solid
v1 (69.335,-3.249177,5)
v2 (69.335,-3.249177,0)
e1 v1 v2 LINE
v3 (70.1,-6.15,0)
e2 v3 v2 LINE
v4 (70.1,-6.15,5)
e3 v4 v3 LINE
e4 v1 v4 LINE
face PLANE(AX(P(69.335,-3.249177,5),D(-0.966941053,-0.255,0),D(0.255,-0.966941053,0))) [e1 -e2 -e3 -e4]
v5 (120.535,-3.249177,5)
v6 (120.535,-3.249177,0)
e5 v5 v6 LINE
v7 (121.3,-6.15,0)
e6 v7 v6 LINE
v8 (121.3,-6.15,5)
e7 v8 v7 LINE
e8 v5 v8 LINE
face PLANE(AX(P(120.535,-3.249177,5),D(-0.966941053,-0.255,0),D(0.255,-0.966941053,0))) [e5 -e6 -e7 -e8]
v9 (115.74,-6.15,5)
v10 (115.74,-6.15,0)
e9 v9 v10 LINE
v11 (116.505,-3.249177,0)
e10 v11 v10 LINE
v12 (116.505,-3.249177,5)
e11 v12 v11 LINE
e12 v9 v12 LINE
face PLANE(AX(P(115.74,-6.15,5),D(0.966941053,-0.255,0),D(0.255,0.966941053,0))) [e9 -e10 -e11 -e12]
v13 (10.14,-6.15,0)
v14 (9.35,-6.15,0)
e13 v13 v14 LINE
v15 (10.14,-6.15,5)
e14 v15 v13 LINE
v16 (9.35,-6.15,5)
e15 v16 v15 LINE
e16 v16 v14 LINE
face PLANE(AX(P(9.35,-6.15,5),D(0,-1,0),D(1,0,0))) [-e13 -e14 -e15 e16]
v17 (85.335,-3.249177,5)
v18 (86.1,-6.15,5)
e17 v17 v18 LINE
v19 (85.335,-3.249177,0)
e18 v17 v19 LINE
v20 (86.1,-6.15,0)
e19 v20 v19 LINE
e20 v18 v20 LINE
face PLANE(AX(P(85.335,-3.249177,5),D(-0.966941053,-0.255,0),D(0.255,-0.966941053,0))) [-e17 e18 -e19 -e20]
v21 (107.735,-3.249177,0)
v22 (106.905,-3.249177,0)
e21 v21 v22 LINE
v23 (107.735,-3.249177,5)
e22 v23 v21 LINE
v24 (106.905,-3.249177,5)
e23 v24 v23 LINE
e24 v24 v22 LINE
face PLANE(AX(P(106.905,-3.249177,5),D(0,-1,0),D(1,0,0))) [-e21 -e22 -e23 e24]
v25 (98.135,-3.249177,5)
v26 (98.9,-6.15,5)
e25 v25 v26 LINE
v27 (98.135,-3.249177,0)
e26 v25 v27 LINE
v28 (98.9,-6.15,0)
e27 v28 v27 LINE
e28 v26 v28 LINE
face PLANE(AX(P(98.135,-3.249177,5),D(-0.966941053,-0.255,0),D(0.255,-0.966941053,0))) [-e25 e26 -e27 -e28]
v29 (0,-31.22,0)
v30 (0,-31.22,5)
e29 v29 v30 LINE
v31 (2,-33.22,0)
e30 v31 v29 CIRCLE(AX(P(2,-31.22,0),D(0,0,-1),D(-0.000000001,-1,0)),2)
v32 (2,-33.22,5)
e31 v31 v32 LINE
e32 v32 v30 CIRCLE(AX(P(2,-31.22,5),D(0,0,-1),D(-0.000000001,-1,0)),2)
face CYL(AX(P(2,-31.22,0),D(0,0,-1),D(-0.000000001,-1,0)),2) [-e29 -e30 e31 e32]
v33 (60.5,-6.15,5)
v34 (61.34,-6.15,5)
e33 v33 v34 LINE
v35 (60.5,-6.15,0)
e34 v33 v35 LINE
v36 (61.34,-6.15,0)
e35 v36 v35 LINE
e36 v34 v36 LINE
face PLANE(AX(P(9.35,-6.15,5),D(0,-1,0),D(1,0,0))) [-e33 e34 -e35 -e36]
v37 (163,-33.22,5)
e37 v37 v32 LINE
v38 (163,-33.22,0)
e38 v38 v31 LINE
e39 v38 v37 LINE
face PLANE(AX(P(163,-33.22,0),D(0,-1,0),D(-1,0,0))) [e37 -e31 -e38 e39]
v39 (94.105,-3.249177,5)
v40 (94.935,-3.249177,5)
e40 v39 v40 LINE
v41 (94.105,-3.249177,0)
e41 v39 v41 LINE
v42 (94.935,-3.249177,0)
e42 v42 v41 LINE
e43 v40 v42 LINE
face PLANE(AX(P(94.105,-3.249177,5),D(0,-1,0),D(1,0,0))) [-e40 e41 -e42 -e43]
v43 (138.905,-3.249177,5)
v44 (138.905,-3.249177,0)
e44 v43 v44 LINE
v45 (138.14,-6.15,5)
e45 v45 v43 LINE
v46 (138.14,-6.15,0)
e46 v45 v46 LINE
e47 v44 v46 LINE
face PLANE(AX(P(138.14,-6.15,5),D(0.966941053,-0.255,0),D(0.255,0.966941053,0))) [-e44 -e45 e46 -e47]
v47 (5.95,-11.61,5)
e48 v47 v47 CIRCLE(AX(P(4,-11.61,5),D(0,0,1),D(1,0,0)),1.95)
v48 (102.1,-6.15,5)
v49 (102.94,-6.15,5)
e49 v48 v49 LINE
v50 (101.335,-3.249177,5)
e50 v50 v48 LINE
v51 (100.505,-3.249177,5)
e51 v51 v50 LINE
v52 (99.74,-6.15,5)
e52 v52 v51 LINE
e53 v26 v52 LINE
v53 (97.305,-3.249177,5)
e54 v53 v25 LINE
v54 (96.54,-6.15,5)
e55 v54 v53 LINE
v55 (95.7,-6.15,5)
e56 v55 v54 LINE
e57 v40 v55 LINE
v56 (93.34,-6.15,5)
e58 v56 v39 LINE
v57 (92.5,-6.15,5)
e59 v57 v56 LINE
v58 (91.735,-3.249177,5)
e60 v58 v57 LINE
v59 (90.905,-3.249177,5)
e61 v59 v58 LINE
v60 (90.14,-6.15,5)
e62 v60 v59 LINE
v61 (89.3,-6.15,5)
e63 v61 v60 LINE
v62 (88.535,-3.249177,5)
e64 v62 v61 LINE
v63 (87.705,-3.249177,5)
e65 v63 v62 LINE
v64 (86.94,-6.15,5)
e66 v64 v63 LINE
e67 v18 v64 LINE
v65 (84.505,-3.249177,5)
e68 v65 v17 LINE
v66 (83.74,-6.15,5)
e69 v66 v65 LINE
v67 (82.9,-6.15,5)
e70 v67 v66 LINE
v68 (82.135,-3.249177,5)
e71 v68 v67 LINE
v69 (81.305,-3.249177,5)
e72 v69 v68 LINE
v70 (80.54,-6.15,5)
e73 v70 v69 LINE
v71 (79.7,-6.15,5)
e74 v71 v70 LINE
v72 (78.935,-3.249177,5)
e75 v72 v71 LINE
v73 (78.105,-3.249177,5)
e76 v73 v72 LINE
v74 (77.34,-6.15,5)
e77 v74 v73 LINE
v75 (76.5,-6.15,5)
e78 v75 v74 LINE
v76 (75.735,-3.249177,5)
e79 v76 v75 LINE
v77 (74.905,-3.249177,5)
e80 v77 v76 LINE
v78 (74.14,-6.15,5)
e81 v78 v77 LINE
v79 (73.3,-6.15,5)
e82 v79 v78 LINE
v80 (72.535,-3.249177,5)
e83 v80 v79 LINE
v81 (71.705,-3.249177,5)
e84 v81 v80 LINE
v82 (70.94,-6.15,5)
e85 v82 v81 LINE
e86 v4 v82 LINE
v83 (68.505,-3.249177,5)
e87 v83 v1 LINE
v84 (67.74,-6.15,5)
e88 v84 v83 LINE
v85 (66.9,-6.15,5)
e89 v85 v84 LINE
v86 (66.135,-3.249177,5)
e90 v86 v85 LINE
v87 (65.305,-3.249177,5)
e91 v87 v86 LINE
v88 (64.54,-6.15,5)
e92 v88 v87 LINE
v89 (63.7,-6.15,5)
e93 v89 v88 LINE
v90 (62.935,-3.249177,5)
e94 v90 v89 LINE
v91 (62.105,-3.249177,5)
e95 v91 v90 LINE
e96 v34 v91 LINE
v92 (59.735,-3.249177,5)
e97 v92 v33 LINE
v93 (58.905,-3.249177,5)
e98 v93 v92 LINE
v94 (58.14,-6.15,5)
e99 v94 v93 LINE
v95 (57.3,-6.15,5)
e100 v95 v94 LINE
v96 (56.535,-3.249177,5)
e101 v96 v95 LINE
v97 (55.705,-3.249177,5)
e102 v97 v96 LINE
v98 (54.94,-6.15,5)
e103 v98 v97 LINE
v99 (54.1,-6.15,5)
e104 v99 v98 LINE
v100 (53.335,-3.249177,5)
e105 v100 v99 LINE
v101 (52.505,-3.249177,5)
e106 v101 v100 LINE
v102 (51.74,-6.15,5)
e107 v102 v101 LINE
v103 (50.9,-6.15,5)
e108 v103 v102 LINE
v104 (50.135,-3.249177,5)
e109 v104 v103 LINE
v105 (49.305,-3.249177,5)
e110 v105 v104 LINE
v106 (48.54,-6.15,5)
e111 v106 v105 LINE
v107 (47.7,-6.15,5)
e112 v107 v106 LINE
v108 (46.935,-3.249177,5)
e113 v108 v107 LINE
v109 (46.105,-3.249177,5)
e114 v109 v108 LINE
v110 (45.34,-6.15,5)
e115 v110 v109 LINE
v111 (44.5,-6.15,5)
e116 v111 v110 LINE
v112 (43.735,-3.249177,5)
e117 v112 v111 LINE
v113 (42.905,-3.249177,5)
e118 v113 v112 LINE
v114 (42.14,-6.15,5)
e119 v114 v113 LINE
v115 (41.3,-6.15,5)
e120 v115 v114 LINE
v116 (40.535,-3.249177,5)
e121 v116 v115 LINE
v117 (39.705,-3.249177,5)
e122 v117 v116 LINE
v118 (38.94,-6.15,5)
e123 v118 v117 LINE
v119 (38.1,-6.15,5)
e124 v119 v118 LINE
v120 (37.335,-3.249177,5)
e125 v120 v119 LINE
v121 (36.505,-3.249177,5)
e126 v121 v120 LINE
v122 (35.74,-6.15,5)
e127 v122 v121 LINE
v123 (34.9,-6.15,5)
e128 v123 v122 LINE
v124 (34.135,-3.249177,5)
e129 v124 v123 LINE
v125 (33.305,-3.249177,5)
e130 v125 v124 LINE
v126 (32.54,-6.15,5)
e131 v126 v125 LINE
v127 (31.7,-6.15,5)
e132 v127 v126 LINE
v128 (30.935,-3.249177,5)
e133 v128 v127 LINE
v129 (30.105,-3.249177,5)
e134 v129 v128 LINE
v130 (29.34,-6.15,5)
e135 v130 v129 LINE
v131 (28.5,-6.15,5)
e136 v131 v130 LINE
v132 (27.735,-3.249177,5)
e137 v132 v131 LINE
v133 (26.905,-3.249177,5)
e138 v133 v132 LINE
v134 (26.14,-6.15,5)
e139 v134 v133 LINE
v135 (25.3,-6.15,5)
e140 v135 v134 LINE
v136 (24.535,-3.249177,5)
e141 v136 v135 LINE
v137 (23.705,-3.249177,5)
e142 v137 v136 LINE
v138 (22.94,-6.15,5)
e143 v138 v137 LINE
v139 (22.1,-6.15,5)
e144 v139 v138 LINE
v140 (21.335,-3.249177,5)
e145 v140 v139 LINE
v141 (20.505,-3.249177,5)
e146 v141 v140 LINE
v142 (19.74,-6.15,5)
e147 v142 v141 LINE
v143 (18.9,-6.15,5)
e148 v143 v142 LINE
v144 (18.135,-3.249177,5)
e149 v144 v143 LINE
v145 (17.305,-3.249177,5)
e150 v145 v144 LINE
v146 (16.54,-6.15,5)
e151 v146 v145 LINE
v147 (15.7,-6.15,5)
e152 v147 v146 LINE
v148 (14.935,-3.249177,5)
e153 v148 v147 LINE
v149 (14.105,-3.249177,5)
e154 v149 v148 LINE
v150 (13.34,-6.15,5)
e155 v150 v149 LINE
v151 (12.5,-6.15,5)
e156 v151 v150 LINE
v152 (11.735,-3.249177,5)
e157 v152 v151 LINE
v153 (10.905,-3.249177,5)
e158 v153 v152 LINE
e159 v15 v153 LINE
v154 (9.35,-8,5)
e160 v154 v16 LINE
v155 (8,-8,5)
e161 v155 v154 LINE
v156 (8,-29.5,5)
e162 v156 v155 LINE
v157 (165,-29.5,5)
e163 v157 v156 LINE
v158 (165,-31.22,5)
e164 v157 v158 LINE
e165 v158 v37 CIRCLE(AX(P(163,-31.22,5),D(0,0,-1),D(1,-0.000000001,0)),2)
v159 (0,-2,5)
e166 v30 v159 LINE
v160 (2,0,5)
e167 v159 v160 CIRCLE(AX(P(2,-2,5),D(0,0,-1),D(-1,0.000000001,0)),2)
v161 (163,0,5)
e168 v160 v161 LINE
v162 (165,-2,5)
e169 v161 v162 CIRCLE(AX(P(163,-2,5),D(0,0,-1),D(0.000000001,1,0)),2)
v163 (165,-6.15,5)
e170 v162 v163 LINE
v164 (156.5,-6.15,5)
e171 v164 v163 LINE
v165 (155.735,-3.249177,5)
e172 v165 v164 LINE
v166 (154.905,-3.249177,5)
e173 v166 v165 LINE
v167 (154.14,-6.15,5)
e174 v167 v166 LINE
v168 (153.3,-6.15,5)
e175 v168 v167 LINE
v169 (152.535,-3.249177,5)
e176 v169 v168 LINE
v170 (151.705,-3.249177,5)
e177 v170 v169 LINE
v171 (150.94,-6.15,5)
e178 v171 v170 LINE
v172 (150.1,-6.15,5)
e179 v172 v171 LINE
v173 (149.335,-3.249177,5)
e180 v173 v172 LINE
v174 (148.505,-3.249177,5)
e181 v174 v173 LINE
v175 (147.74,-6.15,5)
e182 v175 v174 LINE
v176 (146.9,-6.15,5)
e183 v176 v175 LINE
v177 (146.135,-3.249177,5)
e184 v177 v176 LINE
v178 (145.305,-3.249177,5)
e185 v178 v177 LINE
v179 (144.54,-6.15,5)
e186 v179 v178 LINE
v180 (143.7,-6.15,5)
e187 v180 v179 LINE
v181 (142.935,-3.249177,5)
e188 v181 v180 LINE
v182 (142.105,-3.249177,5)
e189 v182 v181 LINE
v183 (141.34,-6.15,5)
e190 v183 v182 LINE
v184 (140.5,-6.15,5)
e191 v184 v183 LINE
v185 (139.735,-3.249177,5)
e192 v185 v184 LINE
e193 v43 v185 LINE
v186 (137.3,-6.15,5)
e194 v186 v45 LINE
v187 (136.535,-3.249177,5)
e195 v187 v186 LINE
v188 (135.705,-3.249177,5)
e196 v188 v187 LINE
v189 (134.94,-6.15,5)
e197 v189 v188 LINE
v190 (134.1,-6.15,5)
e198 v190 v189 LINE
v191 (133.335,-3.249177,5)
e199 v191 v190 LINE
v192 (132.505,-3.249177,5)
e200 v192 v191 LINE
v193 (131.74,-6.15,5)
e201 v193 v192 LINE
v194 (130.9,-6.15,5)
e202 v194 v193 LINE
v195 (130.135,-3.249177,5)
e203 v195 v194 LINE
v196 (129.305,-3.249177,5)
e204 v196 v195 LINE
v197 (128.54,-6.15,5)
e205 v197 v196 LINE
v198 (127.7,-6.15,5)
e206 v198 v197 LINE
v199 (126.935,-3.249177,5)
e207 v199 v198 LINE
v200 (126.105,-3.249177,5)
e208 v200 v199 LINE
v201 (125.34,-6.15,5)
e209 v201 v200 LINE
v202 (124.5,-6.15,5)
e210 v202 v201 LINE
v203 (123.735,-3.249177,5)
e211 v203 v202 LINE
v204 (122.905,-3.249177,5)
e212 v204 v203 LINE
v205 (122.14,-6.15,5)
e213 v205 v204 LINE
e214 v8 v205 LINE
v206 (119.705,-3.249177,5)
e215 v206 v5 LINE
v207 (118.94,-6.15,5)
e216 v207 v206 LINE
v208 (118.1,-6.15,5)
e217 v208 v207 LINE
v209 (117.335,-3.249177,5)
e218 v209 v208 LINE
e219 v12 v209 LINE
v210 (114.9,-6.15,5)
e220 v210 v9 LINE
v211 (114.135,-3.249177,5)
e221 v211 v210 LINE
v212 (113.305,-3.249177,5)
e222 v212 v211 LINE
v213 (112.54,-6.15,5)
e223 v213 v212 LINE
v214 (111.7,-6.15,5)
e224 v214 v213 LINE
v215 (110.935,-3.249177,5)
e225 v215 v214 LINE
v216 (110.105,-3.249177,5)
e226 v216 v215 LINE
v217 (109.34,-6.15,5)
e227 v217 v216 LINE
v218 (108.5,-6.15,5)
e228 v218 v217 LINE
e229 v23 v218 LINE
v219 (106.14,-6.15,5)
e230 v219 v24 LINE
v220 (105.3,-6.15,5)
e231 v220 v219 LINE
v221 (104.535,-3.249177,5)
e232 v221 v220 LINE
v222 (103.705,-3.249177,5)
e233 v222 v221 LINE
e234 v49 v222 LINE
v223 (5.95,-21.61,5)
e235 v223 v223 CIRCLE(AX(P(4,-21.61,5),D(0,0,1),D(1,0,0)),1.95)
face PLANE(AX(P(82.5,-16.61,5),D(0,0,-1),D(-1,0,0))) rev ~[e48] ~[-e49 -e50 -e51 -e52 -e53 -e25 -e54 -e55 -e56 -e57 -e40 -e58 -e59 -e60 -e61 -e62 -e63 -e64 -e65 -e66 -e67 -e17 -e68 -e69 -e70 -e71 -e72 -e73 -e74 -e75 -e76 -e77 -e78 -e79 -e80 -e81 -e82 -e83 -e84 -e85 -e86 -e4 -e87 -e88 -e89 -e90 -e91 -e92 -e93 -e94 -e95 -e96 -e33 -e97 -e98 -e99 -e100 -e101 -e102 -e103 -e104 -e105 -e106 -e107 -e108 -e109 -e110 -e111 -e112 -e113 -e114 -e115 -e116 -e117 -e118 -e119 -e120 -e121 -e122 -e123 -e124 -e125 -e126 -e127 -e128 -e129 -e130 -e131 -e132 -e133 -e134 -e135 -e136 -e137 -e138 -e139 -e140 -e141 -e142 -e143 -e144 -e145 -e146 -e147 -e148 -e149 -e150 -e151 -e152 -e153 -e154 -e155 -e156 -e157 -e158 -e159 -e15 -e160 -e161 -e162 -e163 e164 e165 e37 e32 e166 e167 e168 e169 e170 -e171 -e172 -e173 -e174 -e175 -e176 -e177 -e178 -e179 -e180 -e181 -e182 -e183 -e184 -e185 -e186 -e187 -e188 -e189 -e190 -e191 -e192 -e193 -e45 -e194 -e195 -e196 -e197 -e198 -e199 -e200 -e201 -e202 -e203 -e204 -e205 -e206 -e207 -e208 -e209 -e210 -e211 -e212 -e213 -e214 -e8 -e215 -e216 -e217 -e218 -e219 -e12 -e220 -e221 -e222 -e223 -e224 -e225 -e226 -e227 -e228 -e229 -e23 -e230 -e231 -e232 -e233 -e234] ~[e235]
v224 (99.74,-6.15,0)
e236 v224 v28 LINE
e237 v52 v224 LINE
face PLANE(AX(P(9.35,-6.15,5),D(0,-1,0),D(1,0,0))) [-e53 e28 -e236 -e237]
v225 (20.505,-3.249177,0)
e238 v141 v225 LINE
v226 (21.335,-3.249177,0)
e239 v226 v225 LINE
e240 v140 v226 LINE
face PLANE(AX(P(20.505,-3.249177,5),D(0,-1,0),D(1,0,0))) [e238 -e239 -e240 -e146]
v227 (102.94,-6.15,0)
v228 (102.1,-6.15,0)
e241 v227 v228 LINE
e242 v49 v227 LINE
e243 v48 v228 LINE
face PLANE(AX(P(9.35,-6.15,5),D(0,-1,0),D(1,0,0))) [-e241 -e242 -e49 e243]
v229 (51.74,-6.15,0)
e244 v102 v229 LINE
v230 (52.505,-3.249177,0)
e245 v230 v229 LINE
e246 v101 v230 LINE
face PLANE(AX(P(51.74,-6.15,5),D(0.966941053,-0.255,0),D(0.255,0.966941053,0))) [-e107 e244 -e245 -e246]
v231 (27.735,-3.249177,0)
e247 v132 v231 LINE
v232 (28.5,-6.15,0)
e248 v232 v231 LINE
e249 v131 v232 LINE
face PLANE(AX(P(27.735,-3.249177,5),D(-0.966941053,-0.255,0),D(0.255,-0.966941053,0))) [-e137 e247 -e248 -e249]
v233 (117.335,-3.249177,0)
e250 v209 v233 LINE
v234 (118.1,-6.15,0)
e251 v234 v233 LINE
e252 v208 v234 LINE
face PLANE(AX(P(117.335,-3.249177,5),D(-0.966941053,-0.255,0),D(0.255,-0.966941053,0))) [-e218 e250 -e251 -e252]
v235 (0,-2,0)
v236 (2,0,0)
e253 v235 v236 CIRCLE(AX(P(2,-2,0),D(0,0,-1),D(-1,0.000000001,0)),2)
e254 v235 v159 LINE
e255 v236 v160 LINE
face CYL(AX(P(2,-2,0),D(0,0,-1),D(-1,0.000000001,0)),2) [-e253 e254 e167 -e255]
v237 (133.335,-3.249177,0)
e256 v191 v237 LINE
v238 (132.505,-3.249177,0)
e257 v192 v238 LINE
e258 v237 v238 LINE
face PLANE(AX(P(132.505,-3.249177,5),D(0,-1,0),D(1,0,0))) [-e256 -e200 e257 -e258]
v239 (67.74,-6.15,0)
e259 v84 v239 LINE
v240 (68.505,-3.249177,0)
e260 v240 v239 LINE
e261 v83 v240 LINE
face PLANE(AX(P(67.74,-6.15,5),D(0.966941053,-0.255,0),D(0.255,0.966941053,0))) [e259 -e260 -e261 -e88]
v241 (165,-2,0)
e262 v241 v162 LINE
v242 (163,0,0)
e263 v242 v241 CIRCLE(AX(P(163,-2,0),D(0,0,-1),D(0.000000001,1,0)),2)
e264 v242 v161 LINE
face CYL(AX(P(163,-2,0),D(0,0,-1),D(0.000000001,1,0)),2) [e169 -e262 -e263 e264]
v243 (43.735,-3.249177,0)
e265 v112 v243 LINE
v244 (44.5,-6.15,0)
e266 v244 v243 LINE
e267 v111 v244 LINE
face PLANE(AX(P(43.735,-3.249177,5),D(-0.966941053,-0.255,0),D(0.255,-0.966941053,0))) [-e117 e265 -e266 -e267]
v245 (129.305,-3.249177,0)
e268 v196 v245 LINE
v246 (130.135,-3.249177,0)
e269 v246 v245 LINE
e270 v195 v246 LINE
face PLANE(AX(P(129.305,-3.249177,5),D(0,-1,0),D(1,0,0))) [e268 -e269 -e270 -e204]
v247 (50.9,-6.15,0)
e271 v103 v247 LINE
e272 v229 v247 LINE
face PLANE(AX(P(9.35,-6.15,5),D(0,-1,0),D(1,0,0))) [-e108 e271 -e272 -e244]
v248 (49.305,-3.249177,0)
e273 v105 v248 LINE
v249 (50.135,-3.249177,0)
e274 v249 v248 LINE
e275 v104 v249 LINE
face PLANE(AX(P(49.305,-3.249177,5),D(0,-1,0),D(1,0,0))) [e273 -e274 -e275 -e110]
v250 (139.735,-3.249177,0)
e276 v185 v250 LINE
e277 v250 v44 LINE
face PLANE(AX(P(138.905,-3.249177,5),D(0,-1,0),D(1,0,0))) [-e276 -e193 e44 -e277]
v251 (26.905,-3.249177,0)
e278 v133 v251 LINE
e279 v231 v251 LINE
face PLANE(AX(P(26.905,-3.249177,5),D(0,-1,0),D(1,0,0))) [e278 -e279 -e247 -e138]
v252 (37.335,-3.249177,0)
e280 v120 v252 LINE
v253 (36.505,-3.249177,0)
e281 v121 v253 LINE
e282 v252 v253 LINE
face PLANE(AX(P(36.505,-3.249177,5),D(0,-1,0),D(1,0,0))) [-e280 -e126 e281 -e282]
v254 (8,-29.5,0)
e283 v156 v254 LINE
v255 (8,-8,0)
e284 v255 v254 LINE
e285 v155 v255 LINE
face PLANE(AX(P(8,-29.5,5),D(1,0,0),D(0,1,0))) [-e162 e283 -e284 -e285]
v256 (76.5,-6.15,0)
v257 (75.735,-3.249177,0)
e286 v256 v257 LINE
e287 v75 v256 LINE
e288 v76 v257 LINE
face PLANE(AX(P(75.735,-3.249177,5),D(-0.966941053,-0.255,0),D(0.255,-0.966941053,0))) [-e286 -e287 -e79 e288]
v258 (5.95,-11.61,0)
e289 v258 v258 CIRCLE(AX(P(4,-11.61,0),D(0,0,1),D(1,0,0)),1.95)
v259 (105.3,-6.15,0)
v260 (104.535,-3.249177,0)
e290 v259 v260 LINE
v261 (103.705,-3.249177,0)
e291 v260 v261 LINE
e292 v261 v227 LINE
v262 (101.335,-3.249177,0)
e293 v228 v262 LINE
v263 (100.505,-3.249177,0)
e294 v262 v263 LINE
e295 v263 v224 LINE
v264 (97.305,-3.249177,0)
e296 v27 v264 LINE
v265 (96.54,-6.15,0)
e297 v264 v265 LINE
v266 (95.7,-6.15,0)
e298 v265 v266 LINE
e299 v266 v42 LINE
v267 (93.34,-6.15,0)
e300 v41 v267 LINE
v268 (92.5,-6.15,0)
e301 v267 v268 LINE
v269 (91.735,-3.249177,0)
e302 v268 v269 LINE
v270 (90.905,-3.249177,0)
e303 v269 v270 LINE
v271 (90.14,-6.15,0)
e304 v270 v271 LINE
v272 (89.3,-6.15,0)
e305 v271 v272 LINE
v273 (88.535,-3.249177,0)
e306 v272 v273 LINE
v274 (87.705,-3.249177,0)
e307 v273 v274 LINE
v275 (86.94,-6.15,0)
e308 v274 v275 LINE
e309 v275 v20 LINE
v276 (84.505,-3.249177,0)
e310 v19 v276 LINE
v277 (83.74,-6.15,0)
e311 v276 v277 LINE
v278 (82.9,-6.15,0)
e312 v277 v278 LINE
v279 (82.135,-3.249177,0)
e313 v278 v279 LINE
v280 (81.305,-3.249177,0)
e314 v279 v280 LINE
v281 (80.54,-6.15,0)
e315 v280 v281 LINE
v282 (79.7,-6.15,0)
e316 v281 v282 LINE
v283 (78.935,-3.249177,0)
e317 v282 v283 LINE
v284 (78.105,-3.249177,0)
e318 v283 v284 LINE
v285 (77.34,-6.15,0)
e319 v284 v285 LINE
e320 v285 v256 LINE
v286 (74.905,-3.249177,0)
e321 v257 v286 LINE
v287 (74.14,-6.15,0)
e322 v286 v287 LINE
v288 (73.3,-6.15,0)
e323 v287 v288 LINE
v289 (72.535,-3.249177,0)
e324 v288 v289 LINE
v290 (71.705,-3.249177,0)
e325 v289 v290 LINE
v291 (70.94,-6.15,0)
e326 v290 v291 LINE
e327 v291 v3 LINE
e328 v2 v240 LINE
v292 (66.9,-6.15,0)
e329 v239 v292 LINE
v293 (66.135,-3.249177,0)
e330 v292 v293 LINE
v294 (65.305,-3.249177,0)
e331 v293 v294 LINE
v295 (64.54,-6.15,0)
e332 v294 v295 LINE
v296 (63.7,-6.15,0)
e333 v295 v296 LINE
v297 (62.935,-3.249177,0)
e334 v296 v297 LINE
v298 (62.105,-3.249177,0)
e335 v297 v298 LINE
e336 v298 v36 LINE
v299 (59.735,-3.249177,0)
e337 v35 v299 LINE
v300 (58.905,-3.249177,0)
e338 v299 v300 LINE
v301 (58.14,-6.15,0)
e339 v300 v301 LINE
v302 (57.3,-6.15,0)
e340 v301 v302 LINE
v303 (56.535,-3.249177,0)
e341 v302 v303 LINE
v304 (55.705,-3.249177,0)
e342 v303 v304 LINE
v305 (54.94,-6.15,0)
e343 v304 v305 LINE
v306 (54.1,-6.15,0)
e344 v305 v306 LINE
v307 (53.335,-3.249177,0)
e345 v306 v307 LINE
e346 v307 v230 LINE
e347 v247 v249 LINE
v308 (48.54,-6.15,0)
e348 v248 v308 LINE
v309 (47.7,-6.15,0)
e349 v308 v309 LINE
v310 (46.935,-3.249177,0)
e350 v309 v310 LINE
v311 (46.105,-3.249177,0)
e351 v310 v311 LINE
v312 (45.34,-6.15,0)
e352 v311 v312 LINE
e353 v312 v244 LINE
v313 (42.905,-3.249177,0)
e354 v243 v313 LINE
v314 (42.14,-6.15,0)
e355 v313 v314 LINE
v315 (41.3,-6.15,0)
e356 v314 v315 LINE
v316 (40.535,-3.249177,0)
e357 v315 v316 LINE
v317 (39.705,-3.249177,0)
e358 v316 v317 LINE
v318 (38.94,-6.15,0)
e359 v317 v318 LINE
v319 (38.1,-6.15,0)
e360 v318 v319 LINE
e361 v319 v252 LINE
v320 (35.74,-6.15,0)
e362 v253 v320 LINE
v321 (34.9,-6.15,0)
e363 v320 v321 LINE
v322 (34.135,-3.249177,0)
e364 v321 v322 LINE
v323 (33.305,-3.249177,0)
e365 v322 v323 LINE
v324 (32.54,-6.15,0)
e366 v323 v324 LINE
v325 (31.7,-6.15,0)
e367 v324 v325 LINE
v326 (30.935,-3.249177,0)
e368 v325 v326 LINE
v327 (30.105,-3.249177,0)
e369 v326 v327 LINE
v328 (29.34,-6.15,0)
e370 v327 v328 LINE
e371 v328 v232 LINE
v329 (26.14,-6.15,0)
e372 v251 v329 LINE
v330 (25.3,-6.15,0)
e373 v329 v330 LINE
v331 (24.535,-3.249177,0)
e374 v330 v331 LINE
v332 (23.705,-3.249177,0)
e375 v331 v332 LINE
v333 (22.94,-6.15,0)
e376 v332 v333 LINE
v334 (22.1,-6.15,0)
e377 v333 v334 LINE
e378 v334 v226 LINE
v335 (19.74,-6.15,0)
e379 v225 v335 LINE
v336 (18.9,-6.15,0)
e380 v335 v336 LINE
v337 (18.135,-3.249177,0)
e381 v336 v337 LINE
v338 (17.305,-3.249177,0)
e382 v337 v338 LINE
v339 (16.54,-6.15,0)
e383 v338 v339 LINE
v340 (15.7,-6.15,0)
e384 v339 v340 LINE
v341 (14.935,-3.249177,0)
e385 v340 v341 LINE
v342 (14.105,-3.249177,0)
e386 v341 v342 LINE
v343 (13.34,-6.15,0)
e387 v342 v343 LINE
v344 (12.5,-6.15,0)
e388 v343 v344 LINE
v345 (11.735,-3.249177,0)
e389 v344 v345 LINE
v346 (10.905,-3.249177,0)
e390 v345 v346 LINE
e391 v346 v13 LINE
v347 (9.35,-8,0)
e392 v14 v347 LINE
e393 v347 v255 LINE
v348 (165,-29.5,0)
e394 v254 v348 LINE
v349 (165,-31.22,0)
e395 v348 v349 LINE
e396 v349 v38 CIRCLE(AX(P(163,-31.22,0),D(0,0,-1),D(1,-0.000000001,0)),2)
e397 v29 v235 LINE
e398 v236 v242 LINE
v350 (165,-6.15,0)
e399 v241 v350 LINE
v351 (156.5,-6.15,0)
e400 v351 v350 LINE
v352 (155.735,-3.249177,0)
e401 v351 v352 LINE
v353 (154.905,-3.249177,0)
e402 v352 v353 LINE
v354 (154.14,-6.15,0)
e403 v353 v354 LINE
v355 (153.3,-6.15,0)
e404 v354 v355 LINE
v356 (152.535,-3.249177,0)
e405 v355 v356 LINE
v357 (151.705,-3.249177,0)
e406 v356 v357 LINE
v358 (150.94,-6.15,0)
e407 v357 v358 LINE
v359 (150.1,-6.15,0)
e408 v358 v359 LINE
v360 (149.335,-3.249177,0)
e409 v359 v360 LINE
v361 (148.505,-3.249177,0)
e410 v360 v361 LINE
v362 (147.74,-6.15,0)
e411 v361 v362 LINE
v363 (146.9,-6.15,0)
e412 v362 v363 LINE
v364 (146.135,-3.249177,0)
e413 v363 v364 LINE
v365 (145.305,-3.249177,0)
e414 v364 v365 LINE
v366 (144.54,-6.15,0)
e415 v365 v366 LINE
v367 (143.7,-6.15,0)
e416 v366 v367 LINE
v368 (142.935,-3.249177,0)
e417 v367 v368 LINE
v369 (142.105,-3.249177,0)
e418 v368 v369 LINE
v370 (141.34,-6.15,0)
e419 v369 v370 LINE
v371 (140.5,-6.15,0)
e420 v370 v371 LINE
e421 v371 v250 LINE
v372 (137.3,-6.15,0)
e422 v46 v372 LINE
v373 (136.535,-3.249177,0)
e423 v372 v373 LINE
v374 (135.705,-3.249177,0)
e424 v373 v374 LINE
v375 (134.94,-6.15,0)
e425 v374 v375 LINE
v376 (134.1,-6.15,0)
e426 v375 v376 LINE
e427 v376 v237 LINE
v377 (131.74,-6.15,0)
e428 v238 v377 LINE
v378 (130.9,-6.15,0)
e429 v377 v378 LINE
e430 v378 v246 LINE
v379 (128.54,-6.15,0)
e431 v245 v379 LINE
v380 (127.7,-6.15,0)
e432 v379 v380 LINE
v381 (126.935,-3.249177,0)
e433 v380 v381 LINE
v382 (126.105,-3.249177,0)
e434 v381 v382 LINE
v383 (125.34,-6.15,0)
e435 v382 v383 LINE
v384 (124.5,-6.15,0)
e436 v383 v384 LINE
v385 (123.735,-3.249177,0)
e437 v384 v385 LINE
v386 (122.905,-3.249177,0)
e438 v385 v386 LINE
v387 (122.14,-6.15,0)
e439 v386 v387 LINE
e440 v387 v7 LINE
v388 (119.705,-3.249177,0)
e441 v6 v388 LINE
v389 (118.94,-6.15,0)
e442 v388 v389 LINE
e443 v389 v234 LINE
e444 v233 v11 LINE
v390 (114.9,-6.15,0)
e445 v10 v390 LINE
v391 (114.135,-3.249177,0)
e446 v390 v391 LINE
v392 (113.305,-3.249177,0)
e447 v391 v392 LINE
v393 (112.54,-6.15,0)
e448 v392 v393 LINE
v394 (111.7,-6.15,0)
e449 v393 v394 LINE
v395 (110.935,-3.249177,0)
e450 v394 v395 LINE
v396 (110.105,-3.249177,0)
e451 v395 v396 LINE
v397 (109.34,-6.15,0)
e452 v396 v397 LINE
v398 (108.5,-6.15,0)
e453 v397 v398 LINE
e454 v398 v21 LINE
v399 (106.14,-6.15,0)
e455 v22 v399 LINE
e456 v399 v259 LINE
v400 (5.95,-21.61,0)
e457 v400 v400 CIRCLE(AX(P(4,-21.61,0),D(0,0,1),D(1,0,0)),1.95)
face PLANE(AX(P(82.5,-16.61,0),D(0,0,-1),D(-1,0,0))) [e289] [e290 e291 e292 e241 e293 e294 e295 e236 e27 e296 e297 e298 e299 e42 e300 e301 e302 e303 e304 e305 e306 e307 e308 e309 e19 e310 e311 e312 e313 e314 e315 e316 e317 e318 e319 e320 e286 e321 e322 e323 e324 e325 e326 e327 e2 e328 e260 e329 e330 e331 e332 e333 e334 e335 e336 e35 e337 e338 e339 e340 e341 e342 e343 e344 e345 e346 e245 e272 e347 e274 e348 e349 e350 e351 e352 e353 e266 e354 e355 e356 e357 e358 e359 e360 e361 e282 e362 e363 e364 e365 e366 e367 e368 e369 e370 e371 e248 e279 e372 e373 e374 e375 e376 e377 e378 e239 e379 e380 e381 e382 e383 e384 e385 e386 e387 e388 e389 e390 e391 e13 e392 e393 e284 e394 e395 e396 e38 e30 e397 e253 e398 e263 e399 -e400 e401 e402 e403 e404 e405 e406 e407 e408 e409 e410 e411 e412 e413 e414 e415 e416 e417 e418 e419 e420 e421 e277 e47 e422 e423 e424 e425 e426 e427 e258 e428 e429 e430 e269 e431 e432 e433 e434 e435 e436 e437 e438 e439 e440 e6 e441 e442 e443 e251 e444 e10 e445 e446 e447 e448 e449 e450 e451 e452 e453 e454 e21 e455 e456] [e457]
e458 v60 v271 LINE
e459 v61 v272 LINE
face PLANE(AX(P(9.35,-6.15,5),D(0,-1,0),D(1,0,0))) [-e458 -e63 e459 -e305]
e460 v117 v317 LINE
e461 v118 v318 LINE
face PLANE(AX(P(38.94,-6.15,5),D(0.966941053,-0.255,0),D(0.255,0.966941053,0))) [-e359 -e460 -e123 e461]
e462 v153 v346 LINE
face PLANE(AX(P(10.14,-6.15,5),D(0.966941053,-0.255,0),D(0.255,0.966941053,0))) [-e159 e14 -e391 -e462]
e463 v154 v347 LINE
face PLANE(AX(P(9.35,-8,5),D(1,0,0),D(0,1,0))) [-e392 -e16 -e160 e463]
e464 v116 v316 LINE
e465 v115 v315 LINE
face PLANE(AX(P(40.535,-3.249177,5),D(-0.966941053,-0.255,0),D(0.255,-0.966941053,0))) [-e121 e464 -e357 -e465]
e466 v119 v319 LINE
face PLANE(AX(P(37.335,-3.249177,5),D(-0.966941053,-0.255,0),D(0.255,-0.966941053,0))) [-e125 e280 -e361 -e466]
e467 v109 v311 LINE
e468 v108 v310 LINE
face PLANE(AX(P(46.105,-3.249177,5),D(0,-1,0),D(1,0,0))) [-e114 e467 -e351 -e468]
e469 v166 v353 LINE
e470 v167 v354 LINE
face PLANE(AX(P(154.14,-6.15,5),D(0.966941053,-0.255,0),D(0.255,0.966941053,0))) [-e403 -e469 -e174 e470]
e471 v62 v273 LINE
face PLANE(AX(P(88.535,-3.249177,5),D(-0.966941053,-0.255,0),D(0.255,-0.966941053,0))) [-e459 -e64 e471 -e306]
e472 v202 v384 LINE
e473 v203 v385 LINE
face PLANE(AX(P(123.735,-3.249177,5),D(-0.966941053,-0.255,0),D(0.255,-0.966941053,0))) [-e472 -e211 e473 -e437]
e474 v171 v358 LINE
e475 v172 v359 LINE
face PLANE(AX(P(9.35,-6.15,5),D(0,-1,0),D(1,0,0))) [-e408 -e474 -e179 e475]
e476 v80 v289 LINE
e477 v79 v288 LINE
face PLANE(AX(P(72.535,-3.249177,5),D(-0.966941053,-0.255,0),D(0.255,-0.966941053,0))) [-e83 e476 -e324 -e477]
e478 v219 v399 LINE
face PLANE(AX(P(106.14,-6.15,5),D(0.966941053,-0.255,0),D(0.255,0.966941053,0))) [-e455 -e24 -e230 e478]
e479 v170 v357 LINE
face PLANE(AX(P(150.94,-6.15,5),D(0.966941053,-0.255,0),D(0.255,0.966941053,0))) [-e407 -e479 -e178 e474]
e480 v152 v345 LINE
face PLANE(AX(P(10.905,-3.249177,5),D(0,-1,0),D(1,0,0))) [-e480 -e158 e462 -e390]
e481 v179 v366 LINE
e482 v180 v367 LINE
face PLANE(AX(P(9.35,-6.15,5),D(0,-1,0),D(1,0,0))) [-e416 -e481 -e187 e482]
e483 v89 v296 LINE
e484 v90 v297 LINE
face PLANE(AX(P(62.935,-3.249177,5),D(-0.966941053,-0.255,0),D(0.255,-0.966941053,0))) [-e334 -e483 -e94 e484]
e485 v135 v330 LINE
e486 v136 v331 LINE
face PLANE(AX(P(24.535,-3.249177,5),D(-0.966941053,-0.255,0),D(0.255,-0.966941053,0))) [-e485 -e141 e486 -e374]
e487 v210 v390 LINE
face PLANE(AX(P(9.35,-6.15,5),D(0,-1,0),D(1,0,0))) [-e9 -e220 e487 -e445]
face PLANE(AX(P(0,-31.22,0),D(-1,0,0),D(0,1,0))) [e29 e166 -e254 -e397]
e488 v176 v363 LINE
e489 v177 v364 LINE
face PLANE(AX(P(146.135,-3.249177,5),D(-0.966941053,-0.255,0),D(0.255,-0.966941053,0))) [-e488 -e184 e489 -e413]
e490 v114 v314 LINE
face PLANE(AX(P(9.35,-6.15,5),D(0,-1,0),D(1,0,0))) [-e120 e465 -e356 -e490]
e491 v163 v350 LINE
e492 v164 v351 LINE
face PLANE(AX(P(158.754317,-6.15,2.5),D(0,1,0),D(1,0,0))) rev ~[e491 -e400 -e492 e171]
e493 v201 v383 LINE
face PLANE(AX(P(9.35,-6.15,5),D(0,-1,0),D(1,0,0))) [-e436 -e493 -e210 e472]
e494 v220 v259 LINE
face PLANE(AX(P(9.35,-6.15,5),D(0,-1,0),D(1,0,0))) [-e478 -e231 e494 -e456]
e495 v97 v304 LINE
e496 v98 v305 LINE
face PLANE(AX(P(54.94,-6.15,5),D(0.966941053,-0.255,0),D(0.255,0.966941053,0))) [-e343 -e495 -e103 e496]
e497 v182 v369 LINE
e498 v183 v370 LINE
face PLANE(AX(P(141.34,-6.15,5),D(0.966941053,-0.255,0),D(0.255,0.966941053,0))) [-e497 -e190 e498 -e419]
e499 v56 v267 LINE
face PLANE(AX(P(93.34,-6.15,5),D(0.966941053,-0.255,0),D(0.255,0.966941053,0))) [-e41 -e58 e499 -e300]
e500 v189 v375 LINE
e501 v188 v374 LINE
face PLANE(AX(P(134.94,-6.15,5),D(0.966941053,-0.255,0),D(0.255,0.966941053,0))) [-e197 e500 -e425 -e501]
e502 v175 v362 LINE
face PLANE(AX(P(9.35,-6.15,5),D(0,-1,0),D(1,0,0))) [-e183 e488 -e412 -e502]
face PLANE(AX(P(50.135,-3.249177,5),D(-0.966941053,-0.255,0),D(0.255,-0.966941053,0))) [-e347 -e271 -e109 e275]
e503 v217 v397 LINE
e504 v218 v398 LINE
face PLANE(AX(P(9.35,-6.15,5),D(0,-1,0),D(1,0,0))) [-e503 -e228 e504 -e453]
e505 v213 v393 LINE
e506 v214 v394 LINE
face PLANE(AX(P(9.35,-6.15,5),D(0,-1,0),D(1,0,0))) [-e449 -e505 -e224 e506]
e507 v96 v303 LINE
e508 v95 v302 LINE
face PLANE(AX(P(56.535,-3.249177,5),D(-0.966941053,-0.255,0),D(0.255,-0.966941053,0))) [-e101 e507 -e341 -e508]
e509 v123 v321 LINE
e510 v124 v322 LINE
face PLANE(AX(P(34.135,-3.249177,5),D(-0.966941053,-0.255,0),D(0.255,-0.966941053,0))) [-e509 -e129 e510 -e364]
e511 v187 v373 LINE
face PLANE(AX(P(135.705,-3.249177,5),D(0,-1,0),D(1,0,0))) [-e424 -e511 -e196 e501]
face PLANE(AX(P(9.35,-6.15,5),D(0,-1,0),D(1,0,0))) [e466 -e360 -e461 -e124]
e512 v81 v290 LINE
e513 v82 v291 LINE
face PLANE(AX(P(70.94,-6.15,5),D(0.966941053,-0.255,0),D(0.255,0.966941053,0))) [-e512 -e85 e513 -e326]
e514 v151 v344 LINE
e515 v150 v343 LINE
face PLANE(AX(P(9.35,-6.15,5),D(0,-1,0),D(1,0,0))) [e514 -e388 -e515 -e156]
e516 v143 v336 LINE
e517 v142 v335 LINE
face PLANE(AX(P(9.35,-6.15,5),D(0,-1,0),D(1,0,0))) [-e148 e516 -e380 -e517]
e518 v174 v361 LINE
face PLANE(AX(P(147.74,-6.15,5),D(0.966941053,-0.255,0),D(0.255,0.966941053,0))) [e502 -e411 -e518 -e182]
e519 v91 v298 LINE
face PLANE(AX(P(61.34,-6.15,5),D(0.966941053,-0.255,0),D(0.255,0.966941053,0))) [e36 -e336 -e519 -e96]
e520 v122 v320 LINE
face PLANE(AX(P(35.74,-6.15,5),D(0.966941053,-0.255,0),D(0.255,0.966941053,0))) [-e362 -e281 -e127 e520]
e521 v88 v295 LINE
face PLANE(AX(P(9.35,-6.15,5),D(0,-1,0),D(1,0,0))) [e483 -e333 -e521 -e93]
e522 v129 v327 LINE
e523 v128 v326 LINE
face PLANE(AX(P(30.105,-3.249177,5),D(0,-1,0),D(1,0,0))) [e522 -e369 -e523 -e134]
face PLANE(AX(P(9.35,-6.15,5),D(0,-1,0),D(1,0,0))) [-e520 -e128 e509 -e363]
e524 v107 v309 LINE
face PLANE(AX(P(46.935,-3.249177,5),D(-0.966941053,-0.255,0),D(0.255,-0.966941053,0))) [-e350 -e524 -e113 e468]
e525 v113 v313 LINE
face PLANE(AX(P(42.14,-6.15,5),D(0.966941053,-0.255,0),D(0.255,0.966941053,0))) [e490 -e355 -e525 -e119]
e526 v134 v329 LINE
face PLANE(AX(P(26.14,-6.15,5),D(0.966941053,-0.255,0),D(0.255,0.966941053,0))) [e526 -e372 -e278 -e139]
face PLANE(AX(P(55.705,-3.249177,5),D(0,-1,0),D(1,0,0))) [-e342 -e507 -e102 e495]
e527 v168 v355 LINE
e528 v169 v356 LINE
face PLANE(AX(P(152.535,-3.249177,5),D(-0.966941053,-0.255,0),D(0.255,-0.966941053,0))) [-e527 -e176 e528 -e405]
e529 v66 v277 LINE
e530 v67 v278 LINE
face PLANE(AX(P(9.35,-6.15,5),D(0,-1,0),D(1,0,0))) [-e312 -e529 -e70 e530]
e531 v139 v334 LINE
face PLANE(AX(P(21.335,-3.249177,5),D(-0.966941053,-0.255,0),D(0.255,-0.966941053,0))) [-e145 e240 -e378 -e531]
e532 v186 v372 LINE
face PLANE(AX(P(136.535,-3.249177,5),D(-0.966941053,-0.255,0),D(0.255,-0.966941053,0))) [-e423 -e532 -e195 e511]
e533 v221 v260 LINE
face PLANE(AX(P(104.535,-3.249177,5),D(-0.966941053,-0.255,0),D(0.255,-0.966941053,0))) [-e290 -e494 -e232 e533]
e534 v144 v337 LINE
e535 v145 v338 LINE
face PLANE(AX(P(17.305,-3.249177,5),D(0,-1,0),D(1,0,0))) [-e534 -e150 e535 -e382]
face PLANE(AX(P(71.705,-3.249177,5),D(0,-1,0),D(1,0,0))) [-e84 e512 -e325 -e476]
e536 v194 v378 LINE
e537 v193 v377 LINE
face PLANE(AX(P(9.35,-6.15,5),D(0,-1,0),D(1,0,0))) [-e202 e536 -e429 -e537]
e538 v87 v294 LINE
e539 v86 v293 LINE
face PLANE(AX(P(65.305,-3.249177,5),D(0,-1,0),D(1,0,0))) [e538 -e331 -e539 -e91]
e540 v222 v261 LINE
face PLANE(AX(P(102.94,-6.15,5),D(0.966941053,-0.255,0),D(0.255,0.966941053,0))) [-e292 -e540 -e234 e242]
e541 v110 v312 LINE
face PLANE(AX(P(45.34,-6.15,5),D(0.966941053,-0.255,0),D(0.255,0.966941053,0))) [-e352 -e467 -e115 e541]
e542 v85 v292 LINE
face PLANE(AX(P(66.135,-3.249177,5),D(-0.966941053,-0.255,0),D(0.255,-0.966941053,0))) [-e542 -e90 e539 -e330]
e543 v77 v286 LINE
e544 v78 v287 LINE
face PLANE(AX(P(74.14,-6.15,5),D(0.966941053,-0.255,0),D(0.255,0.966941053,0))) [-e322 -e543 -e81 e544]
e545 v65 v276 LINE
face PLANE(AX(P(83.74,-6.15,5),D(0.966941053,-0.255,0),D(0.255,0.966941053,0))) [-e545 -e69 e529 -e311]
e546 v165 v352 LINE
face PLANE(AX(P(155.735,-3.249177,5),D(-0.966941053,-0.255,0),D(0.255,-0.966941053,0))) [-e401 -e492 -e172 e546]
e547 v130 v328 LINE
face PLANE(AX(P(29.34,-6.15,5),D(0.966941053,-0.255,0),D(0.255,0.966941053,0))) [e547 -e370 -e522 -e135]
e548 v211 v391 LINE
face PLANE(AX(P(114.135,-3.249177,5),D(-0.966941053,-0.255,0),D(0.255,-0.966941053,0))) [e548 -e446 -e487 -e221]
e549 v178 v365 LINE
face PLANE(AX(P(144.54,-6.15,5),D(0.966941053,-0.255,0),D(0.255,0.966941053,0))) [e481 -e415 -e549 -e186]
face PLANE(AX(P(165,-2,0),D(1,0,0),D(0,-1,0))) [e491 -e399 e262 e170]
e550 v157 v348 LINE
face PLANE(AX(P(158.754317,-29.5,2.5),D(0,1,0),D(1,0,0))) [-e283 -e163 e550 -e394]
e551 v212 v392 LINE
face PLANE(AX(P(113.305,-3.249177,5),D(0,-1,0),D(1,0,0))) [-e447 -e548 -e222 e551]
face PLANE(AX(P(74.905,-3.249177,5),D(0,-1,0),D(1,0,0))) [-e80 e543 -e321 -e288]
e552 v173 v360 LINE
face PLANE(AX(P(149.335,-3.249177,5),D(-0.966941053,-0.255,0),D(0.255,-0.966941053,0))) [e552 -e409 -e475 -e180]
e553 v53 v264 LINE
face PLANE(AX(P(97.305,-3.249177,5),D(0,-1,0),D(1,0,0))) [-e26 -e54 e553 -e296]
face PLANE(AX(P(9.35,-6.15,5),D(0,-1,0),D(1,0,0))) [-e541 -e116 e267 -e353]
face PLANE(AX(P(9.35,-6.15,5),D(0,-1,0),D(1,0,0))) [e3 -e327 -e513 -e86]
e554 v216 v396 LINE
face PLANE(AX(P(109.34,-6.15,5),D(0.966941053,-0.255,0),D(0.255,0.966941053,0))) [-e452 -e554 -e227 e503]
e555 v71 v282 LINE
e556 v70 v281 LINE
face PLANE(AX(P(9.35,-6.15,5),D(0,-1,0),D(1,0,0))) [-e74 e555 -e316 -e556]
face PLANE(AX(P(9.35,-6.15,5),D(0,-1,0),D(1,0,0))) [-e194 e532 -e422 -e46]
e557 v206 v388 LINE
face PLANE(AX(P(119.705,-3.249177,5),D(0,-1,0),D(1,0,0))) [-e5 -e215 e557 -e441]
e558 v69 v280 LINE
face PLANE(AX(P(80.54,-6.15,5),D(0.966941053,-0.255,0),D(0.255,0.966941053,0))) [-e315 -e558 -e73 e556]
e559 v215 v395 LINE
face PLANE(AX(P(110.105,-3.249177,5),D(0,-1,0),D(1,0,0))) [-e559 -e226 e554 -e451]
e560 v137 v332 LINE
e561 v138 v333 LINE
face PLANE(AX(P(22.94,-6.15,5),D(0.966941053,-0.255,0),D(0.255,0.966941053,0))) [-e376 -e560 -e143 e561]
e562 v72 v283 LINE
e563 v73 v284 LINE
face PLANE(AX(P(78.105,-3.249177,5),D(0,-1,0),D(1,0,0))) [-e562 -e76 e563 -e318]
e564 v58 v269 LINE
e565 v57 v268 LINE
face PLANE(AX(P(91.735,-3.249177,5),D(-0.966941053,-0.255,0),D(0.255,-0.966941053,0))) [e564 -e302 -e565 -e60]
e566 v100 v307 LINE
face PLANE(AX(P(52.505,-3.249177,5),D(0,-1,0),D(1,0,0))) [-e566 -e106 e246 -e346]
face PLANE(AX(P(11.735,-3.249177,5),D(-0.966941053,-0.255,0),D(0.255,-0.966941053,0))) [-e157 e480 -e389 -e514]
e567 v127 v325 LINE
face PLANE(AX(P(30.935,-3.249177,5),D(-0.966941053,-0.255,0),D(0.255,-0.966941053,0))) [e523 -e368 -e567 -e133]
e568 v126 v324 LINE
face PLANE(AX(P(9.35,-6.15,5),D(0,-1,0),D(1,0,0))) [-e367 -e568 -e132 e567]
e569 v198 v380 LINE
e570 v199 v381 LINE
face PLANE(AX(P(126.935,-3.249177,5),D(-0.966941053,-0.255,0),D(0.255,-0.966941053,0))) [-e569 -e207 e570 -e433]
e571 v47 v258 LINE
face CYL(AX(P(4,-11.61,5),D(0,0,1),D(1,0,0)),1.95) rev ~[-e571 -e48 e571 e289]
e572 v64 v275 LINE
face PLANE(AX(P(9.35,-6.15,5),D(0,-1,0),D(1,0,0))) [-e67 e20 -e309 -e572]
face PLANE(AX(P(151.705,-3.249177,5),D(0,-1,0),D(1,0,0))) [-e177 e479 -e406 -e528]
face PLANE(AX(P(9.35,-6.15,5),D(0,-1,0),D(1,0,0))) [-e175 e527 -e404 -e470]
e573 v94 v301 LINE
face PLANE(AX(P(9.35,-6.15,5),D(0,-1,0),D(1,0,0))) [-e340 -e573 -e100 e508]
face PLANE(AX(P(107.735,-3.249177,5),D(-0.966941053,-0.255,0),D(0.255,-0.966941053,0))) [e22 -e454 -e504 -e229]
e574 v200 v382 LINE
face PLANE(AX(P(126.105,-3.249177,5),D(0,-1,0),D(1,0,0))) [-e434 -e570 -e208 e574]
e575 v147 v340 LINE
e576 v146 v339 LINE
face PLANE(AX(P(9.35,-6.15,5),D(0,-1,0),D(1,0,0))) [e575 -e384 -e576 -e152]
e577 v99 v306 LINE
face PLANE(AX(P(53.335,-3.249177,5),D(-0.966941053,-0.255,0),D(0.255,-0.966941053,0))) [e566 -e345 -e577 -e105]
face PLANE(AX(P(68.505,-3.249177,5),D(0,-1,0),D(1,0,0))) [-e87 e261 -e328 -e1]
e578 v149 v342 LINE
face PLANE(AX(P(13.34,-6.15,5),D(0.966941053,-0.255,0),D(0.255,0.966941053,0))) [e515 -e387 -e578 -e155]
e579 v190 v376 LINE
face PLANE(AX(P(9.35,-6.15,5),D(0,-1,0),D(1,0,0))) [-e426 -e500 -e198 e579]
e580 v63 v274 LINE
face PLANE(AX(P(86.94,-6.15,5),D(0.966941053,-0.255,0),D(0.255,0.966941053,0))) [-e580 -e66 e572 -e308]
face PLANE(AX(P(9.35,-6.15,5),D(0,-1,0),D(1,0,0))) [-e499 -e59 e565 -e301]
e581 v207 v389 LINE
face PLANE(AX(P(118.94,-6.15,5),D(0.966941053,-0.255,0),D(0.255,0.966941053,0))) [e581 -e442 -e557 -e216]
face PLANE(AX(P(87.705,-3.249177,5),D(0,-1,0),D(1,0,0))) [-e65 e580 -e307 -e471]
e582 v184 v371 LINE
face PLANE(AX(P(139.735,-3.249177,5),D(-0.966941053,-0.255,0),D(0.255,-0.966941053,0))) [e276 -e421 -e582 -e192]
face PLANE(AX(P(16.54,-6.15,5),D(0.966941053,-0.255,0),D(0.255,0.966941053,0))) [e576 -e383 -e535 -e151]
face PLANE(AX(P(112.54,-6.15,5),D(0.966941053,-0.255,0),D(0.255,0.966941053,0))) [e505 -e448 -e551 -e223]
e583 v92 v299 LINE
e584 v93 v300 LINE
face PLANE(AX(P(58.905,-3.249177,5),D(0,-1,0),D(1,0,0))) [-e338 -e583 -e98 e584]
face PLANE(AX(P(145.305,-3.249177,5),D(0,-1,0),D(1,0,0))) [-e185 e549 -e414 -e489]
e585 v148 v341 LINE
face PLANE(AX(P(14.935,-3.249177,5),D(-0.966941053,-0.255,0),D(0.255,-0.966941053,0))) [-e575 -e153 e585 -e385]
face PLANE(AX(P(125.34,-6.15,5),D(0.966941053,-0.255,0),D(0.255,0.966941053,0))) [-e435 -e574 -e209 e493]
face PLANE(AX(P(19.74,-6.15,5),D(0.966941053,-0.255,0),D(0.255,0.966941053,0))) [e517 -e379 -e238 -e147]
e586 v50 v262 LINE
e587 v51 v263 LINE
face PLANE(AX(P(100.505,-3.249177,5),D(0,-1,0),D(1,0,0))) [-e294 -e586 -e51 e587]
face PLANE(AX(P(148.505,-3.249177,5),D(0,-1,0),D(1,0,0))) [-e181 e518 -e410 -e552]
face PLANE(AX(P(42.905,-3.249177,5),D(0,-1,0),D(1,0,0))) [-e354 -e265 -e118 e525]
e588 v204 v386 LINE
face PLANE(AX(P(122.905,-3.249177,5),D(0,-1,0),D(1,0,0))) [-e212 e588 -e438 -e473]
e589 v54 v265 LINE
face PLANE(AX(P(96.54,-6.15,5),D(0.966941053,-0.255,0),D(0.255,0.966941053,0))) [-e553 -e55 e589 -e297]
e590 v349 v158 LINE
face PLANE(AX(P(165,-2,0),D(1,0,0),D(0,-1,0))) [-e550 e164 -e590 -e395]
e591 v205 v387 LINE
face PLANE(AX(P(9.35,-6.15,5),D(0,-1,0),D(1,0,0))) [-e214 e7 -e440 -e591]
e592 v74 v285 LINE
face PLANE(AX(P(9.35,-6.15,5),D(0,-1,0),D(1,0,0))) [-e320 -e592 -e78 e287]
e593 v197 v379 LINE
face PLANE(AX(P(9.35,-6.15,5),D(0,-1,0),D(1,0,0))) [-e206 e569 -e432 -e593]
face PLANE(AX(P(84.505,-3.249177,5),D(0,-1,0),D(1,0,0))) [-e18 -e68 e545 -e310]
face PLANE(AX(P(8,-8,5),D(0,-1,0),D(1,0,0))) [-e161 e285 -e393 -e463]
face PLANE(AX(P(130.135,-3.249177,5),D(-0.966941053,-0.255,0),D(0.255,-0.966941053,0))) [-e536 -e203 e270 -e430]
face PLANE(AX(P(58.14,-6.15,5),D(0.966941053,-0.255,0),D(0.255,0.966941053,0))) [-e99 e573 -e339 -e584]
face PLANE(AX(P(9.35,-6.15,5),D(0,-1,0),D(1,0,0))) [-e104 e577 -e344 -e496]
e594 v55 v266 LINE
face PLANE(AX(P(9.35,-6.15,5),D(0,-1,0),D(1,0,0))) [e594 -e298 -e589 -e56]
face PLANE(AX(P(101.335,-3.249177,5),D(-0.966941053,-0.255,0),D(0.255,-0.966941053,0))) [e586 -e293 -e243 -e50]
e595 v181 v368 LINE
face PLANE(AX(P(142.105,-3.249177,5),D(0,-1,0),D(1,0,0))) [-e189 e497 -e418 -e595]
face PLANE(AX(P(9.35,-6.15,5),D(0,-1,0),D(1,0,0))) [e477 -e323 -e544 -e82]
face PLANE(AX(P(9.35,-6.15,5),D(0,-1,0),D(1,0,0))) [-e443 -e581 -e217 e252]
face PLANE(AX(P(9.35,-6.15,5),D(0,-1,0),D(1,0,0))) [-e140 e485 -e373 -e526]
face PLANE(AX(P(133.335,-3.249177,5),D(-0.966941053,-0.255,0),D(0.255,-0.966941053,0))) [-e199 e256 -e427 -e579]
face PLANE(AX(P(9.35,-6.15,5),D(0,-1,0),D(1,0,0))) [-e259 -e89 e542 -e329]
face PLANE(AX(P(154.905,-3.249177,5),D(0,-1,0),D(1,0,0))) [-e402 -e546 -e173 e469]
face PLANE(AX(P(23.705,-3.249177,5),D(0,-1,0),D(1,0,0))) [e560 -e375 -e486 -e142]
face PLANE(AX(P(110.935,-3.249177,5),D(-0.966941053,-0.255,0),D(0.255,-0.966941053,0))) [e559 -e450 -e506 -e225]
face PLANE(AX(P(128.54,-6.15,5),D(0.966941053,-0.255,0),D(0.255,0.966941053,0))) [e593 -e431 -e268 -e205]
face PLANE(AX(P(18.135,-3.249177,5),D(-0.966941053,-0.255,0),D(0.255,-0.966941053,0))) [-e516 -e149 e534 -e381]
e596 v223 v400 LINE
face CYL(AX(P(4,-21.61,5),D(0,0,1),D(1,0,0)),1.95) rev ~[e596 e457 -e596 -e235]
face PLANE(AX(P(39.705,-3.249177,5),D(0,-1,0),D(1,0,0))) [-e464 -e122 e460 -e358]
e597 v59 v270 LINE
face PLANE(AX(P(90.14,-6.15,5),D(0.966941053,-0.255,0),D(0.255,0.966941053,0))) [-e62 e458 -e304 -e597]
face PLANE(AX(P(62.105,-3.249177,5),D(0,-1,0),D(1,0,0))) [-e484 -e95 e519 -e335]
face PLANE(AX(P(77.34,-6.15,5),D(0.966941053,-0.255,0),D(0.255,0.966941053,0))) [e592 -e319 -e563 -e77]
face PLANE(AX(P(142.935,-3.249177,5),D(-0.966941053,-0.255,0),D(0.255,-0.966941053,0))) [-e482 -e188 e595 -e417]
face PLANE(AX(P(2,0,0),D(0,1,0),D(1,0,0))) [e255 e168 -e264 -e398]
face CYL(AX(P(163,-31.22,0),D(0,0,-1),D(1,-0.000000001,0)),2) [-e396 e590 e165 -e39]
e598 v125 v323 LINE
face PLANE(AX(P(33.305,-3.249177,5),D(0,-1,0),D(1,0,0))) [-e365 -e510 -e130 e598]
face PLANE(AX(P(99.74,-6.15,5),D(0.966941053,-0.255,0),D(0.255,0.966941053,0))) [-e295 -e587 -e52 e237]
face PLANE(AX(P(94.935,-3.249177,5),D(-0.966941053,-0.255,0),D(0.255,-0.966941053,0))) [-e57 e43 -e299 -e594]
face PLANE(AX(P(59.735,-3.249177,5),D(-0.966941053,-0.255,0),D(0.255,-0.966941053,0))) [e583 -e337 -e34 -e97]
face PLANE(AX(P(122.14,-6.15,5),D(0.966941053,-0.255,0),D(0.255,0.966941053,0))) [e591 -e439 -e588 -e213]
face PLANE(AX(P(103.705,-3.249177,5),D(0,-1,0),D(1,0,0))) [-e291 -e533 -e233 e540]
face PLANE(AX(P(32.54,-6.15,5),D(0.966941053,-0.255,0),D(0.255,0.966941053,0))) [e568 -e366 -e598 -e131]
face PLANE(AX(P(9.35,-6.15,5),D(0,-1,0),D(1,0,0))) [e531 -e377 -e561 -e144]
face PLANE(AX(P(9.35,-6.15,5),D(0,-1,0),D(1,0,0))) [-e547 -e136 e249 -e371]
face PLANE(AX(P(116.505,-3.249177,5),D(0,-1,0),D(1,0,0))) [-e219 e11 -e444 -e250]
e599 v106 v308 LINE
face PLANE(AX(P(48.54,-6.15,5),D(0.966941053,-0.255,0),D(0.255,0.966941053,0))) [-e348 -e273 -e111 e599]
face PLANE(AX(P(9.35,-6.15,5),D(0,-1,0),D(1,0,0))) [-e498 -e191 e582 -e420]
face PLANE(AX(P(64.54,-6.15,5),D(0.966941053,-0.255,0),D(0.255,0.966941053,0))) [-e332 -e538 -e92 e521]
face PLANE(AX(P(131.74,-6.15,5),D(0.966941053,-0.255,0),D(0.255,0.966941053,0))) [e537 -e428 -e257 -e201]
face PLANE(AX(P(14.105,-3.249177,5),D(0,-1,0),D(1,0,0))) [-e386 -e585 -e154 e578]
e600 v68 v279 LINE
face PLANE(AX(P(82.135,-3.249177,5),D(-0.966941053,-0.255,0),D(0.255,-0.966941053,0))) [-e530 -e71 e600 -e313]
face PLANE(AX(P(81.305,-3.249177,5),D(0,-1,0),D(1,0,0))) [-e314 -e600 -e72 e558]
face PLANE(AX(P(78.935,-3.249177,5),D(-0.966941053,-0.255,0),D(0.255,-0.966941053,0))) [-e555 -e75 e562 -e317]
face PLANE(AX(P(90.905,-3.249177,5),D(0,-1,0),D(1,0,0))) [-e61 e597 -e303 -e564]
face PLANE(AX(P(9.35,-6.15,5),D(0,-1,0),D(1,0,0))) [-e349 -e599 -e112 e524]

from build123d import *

# Parameters (mm, degrees)
BOSS_EXTRUDE1_DEPTH = 5
SKETCH2_W           = 149
SKETCH2_H           = 21.5
CUT_EXTRUDE1_DEPTH  = 6
SKETCH3_W           = 145.97
SKETCH3_H           = 1.85
CUT_EXTRUDE2_DEPTH  = 6
CUT_EXTRUDE4_DEPTH  = 6
LPATTERN1_COUNT     = 46
LPATTERN1_PITCH     = 3.2
SKETCH5_R           = 1.95
CUT_EXTRUDE5_DEPTH  = 10
SKETCH8_W           = 12.491366173
SKETCH8_H           = 5
CUT_EXTRUDE6_DEPTH  = 23.35


with BuildPart() as part:
    # Sketch1 → Boss-Extrude1 (new body)
    with BuildSketch(Plane.XY):
        with BuildLine():
            Line((2, 0), (163, 0))
            ThreePointArc((163, 0), (164.414213562, -0.585786438), (165, -2))
            Line((165, -2), (165, -31.22))
            ThreePointArc((165, -31.22), (164.414213562, -32.634213562), (163, -33.22))
            Line((163, -33.22), (2, -33.22))
            ThreePointArc((2, -33.22), (0.585786438, -32.634213562), (0, -31.22))
            Line((0, -31.22), (0, -2))
            ThreePointArc((0, -2), (0.585786438, -0.585786438), (2, 0))
        make_face()
    extrude(amount=BOSS_EXTRUDE1_DEPTH)

    # Sketch2 → Cut-Extrude1 (cut, through all)
    with BuildSketch(Plane.XY.offset(5)):
        with Locations((82.5, -18.75)):
            Rectangle(SKETCH2_W, SKETCH2_H)
    extrude(amount=-CUT_EXTRUDE1_DEPTH, mode=Mode.SUBTRACT)

    # Sketch3 → Cut-Extrude2 (cut, through all)
    with BuildSketch(Plane.XY.offset(5)):
        with Locations((82.335, -7.075)):
            Rectangle(SKETCH3_W, SKETCH3_H)
    extrude(amount=-CUT_EXTRUDE2_DEPTH, mode=Mode.SUBTRACT)

    # Sketch4 → Cut-Extrude4 (cut, through all)
    with BuildSketch(Plane.XY.offset(5)):
        Polygon((155.735, -3.249176841), (156.5, -6.15), (154.14, -6.15), (154.905, -3.249176841), align=None)
    cut_extrude4 = extrude(amount=-CUT_EXTRUDE4_DEPTH, mode=Mode.SUBTRACT)

    # LPattern1: Cut-Extrude4 ×46
    with Locations(*[(-i * LPATTERN1_PITCH, 0, 0) for i in range(1, LPATTERN1_COUNT)]):
        add(cut_extrude4, mode=Mode.SUBTRACT)

    # Sketch5 → Cut-Extrude5 (cut)
    with BuildSketch(Plane.XY.offset(5)):
        with Locations((4, -11.61)):
            Circle(SKETCH5_R)
        with Locations((4, -21.61)):
            Circle(SKETCH5_R)
        with Locations((161, -11.61)):
            Circle(SKETCH5_R)
        with Locations((161, -21.61)):
            Circle(SKETCH5_R)
    extrude(amount=-CUT_EXTRUDE5_DEPTH, mode=Mode.SUBTRACT)

    # Sketch8 → Cut-Extrude6 (cut)
    with BuildSketch(Plane(origin=(0, -29.5, 0), x_dir=(1, 0, 0), z_dir=(0, 1, 0))):
        with Locations((158.754316914, -2.5)):
            Rectangle(SKETCH8_W, SKETCH8_H)
    extrude(amount=CUT_EXTRUDE6_DEPTH, mode=Mode.SUBTRACT)


solid = part.part
